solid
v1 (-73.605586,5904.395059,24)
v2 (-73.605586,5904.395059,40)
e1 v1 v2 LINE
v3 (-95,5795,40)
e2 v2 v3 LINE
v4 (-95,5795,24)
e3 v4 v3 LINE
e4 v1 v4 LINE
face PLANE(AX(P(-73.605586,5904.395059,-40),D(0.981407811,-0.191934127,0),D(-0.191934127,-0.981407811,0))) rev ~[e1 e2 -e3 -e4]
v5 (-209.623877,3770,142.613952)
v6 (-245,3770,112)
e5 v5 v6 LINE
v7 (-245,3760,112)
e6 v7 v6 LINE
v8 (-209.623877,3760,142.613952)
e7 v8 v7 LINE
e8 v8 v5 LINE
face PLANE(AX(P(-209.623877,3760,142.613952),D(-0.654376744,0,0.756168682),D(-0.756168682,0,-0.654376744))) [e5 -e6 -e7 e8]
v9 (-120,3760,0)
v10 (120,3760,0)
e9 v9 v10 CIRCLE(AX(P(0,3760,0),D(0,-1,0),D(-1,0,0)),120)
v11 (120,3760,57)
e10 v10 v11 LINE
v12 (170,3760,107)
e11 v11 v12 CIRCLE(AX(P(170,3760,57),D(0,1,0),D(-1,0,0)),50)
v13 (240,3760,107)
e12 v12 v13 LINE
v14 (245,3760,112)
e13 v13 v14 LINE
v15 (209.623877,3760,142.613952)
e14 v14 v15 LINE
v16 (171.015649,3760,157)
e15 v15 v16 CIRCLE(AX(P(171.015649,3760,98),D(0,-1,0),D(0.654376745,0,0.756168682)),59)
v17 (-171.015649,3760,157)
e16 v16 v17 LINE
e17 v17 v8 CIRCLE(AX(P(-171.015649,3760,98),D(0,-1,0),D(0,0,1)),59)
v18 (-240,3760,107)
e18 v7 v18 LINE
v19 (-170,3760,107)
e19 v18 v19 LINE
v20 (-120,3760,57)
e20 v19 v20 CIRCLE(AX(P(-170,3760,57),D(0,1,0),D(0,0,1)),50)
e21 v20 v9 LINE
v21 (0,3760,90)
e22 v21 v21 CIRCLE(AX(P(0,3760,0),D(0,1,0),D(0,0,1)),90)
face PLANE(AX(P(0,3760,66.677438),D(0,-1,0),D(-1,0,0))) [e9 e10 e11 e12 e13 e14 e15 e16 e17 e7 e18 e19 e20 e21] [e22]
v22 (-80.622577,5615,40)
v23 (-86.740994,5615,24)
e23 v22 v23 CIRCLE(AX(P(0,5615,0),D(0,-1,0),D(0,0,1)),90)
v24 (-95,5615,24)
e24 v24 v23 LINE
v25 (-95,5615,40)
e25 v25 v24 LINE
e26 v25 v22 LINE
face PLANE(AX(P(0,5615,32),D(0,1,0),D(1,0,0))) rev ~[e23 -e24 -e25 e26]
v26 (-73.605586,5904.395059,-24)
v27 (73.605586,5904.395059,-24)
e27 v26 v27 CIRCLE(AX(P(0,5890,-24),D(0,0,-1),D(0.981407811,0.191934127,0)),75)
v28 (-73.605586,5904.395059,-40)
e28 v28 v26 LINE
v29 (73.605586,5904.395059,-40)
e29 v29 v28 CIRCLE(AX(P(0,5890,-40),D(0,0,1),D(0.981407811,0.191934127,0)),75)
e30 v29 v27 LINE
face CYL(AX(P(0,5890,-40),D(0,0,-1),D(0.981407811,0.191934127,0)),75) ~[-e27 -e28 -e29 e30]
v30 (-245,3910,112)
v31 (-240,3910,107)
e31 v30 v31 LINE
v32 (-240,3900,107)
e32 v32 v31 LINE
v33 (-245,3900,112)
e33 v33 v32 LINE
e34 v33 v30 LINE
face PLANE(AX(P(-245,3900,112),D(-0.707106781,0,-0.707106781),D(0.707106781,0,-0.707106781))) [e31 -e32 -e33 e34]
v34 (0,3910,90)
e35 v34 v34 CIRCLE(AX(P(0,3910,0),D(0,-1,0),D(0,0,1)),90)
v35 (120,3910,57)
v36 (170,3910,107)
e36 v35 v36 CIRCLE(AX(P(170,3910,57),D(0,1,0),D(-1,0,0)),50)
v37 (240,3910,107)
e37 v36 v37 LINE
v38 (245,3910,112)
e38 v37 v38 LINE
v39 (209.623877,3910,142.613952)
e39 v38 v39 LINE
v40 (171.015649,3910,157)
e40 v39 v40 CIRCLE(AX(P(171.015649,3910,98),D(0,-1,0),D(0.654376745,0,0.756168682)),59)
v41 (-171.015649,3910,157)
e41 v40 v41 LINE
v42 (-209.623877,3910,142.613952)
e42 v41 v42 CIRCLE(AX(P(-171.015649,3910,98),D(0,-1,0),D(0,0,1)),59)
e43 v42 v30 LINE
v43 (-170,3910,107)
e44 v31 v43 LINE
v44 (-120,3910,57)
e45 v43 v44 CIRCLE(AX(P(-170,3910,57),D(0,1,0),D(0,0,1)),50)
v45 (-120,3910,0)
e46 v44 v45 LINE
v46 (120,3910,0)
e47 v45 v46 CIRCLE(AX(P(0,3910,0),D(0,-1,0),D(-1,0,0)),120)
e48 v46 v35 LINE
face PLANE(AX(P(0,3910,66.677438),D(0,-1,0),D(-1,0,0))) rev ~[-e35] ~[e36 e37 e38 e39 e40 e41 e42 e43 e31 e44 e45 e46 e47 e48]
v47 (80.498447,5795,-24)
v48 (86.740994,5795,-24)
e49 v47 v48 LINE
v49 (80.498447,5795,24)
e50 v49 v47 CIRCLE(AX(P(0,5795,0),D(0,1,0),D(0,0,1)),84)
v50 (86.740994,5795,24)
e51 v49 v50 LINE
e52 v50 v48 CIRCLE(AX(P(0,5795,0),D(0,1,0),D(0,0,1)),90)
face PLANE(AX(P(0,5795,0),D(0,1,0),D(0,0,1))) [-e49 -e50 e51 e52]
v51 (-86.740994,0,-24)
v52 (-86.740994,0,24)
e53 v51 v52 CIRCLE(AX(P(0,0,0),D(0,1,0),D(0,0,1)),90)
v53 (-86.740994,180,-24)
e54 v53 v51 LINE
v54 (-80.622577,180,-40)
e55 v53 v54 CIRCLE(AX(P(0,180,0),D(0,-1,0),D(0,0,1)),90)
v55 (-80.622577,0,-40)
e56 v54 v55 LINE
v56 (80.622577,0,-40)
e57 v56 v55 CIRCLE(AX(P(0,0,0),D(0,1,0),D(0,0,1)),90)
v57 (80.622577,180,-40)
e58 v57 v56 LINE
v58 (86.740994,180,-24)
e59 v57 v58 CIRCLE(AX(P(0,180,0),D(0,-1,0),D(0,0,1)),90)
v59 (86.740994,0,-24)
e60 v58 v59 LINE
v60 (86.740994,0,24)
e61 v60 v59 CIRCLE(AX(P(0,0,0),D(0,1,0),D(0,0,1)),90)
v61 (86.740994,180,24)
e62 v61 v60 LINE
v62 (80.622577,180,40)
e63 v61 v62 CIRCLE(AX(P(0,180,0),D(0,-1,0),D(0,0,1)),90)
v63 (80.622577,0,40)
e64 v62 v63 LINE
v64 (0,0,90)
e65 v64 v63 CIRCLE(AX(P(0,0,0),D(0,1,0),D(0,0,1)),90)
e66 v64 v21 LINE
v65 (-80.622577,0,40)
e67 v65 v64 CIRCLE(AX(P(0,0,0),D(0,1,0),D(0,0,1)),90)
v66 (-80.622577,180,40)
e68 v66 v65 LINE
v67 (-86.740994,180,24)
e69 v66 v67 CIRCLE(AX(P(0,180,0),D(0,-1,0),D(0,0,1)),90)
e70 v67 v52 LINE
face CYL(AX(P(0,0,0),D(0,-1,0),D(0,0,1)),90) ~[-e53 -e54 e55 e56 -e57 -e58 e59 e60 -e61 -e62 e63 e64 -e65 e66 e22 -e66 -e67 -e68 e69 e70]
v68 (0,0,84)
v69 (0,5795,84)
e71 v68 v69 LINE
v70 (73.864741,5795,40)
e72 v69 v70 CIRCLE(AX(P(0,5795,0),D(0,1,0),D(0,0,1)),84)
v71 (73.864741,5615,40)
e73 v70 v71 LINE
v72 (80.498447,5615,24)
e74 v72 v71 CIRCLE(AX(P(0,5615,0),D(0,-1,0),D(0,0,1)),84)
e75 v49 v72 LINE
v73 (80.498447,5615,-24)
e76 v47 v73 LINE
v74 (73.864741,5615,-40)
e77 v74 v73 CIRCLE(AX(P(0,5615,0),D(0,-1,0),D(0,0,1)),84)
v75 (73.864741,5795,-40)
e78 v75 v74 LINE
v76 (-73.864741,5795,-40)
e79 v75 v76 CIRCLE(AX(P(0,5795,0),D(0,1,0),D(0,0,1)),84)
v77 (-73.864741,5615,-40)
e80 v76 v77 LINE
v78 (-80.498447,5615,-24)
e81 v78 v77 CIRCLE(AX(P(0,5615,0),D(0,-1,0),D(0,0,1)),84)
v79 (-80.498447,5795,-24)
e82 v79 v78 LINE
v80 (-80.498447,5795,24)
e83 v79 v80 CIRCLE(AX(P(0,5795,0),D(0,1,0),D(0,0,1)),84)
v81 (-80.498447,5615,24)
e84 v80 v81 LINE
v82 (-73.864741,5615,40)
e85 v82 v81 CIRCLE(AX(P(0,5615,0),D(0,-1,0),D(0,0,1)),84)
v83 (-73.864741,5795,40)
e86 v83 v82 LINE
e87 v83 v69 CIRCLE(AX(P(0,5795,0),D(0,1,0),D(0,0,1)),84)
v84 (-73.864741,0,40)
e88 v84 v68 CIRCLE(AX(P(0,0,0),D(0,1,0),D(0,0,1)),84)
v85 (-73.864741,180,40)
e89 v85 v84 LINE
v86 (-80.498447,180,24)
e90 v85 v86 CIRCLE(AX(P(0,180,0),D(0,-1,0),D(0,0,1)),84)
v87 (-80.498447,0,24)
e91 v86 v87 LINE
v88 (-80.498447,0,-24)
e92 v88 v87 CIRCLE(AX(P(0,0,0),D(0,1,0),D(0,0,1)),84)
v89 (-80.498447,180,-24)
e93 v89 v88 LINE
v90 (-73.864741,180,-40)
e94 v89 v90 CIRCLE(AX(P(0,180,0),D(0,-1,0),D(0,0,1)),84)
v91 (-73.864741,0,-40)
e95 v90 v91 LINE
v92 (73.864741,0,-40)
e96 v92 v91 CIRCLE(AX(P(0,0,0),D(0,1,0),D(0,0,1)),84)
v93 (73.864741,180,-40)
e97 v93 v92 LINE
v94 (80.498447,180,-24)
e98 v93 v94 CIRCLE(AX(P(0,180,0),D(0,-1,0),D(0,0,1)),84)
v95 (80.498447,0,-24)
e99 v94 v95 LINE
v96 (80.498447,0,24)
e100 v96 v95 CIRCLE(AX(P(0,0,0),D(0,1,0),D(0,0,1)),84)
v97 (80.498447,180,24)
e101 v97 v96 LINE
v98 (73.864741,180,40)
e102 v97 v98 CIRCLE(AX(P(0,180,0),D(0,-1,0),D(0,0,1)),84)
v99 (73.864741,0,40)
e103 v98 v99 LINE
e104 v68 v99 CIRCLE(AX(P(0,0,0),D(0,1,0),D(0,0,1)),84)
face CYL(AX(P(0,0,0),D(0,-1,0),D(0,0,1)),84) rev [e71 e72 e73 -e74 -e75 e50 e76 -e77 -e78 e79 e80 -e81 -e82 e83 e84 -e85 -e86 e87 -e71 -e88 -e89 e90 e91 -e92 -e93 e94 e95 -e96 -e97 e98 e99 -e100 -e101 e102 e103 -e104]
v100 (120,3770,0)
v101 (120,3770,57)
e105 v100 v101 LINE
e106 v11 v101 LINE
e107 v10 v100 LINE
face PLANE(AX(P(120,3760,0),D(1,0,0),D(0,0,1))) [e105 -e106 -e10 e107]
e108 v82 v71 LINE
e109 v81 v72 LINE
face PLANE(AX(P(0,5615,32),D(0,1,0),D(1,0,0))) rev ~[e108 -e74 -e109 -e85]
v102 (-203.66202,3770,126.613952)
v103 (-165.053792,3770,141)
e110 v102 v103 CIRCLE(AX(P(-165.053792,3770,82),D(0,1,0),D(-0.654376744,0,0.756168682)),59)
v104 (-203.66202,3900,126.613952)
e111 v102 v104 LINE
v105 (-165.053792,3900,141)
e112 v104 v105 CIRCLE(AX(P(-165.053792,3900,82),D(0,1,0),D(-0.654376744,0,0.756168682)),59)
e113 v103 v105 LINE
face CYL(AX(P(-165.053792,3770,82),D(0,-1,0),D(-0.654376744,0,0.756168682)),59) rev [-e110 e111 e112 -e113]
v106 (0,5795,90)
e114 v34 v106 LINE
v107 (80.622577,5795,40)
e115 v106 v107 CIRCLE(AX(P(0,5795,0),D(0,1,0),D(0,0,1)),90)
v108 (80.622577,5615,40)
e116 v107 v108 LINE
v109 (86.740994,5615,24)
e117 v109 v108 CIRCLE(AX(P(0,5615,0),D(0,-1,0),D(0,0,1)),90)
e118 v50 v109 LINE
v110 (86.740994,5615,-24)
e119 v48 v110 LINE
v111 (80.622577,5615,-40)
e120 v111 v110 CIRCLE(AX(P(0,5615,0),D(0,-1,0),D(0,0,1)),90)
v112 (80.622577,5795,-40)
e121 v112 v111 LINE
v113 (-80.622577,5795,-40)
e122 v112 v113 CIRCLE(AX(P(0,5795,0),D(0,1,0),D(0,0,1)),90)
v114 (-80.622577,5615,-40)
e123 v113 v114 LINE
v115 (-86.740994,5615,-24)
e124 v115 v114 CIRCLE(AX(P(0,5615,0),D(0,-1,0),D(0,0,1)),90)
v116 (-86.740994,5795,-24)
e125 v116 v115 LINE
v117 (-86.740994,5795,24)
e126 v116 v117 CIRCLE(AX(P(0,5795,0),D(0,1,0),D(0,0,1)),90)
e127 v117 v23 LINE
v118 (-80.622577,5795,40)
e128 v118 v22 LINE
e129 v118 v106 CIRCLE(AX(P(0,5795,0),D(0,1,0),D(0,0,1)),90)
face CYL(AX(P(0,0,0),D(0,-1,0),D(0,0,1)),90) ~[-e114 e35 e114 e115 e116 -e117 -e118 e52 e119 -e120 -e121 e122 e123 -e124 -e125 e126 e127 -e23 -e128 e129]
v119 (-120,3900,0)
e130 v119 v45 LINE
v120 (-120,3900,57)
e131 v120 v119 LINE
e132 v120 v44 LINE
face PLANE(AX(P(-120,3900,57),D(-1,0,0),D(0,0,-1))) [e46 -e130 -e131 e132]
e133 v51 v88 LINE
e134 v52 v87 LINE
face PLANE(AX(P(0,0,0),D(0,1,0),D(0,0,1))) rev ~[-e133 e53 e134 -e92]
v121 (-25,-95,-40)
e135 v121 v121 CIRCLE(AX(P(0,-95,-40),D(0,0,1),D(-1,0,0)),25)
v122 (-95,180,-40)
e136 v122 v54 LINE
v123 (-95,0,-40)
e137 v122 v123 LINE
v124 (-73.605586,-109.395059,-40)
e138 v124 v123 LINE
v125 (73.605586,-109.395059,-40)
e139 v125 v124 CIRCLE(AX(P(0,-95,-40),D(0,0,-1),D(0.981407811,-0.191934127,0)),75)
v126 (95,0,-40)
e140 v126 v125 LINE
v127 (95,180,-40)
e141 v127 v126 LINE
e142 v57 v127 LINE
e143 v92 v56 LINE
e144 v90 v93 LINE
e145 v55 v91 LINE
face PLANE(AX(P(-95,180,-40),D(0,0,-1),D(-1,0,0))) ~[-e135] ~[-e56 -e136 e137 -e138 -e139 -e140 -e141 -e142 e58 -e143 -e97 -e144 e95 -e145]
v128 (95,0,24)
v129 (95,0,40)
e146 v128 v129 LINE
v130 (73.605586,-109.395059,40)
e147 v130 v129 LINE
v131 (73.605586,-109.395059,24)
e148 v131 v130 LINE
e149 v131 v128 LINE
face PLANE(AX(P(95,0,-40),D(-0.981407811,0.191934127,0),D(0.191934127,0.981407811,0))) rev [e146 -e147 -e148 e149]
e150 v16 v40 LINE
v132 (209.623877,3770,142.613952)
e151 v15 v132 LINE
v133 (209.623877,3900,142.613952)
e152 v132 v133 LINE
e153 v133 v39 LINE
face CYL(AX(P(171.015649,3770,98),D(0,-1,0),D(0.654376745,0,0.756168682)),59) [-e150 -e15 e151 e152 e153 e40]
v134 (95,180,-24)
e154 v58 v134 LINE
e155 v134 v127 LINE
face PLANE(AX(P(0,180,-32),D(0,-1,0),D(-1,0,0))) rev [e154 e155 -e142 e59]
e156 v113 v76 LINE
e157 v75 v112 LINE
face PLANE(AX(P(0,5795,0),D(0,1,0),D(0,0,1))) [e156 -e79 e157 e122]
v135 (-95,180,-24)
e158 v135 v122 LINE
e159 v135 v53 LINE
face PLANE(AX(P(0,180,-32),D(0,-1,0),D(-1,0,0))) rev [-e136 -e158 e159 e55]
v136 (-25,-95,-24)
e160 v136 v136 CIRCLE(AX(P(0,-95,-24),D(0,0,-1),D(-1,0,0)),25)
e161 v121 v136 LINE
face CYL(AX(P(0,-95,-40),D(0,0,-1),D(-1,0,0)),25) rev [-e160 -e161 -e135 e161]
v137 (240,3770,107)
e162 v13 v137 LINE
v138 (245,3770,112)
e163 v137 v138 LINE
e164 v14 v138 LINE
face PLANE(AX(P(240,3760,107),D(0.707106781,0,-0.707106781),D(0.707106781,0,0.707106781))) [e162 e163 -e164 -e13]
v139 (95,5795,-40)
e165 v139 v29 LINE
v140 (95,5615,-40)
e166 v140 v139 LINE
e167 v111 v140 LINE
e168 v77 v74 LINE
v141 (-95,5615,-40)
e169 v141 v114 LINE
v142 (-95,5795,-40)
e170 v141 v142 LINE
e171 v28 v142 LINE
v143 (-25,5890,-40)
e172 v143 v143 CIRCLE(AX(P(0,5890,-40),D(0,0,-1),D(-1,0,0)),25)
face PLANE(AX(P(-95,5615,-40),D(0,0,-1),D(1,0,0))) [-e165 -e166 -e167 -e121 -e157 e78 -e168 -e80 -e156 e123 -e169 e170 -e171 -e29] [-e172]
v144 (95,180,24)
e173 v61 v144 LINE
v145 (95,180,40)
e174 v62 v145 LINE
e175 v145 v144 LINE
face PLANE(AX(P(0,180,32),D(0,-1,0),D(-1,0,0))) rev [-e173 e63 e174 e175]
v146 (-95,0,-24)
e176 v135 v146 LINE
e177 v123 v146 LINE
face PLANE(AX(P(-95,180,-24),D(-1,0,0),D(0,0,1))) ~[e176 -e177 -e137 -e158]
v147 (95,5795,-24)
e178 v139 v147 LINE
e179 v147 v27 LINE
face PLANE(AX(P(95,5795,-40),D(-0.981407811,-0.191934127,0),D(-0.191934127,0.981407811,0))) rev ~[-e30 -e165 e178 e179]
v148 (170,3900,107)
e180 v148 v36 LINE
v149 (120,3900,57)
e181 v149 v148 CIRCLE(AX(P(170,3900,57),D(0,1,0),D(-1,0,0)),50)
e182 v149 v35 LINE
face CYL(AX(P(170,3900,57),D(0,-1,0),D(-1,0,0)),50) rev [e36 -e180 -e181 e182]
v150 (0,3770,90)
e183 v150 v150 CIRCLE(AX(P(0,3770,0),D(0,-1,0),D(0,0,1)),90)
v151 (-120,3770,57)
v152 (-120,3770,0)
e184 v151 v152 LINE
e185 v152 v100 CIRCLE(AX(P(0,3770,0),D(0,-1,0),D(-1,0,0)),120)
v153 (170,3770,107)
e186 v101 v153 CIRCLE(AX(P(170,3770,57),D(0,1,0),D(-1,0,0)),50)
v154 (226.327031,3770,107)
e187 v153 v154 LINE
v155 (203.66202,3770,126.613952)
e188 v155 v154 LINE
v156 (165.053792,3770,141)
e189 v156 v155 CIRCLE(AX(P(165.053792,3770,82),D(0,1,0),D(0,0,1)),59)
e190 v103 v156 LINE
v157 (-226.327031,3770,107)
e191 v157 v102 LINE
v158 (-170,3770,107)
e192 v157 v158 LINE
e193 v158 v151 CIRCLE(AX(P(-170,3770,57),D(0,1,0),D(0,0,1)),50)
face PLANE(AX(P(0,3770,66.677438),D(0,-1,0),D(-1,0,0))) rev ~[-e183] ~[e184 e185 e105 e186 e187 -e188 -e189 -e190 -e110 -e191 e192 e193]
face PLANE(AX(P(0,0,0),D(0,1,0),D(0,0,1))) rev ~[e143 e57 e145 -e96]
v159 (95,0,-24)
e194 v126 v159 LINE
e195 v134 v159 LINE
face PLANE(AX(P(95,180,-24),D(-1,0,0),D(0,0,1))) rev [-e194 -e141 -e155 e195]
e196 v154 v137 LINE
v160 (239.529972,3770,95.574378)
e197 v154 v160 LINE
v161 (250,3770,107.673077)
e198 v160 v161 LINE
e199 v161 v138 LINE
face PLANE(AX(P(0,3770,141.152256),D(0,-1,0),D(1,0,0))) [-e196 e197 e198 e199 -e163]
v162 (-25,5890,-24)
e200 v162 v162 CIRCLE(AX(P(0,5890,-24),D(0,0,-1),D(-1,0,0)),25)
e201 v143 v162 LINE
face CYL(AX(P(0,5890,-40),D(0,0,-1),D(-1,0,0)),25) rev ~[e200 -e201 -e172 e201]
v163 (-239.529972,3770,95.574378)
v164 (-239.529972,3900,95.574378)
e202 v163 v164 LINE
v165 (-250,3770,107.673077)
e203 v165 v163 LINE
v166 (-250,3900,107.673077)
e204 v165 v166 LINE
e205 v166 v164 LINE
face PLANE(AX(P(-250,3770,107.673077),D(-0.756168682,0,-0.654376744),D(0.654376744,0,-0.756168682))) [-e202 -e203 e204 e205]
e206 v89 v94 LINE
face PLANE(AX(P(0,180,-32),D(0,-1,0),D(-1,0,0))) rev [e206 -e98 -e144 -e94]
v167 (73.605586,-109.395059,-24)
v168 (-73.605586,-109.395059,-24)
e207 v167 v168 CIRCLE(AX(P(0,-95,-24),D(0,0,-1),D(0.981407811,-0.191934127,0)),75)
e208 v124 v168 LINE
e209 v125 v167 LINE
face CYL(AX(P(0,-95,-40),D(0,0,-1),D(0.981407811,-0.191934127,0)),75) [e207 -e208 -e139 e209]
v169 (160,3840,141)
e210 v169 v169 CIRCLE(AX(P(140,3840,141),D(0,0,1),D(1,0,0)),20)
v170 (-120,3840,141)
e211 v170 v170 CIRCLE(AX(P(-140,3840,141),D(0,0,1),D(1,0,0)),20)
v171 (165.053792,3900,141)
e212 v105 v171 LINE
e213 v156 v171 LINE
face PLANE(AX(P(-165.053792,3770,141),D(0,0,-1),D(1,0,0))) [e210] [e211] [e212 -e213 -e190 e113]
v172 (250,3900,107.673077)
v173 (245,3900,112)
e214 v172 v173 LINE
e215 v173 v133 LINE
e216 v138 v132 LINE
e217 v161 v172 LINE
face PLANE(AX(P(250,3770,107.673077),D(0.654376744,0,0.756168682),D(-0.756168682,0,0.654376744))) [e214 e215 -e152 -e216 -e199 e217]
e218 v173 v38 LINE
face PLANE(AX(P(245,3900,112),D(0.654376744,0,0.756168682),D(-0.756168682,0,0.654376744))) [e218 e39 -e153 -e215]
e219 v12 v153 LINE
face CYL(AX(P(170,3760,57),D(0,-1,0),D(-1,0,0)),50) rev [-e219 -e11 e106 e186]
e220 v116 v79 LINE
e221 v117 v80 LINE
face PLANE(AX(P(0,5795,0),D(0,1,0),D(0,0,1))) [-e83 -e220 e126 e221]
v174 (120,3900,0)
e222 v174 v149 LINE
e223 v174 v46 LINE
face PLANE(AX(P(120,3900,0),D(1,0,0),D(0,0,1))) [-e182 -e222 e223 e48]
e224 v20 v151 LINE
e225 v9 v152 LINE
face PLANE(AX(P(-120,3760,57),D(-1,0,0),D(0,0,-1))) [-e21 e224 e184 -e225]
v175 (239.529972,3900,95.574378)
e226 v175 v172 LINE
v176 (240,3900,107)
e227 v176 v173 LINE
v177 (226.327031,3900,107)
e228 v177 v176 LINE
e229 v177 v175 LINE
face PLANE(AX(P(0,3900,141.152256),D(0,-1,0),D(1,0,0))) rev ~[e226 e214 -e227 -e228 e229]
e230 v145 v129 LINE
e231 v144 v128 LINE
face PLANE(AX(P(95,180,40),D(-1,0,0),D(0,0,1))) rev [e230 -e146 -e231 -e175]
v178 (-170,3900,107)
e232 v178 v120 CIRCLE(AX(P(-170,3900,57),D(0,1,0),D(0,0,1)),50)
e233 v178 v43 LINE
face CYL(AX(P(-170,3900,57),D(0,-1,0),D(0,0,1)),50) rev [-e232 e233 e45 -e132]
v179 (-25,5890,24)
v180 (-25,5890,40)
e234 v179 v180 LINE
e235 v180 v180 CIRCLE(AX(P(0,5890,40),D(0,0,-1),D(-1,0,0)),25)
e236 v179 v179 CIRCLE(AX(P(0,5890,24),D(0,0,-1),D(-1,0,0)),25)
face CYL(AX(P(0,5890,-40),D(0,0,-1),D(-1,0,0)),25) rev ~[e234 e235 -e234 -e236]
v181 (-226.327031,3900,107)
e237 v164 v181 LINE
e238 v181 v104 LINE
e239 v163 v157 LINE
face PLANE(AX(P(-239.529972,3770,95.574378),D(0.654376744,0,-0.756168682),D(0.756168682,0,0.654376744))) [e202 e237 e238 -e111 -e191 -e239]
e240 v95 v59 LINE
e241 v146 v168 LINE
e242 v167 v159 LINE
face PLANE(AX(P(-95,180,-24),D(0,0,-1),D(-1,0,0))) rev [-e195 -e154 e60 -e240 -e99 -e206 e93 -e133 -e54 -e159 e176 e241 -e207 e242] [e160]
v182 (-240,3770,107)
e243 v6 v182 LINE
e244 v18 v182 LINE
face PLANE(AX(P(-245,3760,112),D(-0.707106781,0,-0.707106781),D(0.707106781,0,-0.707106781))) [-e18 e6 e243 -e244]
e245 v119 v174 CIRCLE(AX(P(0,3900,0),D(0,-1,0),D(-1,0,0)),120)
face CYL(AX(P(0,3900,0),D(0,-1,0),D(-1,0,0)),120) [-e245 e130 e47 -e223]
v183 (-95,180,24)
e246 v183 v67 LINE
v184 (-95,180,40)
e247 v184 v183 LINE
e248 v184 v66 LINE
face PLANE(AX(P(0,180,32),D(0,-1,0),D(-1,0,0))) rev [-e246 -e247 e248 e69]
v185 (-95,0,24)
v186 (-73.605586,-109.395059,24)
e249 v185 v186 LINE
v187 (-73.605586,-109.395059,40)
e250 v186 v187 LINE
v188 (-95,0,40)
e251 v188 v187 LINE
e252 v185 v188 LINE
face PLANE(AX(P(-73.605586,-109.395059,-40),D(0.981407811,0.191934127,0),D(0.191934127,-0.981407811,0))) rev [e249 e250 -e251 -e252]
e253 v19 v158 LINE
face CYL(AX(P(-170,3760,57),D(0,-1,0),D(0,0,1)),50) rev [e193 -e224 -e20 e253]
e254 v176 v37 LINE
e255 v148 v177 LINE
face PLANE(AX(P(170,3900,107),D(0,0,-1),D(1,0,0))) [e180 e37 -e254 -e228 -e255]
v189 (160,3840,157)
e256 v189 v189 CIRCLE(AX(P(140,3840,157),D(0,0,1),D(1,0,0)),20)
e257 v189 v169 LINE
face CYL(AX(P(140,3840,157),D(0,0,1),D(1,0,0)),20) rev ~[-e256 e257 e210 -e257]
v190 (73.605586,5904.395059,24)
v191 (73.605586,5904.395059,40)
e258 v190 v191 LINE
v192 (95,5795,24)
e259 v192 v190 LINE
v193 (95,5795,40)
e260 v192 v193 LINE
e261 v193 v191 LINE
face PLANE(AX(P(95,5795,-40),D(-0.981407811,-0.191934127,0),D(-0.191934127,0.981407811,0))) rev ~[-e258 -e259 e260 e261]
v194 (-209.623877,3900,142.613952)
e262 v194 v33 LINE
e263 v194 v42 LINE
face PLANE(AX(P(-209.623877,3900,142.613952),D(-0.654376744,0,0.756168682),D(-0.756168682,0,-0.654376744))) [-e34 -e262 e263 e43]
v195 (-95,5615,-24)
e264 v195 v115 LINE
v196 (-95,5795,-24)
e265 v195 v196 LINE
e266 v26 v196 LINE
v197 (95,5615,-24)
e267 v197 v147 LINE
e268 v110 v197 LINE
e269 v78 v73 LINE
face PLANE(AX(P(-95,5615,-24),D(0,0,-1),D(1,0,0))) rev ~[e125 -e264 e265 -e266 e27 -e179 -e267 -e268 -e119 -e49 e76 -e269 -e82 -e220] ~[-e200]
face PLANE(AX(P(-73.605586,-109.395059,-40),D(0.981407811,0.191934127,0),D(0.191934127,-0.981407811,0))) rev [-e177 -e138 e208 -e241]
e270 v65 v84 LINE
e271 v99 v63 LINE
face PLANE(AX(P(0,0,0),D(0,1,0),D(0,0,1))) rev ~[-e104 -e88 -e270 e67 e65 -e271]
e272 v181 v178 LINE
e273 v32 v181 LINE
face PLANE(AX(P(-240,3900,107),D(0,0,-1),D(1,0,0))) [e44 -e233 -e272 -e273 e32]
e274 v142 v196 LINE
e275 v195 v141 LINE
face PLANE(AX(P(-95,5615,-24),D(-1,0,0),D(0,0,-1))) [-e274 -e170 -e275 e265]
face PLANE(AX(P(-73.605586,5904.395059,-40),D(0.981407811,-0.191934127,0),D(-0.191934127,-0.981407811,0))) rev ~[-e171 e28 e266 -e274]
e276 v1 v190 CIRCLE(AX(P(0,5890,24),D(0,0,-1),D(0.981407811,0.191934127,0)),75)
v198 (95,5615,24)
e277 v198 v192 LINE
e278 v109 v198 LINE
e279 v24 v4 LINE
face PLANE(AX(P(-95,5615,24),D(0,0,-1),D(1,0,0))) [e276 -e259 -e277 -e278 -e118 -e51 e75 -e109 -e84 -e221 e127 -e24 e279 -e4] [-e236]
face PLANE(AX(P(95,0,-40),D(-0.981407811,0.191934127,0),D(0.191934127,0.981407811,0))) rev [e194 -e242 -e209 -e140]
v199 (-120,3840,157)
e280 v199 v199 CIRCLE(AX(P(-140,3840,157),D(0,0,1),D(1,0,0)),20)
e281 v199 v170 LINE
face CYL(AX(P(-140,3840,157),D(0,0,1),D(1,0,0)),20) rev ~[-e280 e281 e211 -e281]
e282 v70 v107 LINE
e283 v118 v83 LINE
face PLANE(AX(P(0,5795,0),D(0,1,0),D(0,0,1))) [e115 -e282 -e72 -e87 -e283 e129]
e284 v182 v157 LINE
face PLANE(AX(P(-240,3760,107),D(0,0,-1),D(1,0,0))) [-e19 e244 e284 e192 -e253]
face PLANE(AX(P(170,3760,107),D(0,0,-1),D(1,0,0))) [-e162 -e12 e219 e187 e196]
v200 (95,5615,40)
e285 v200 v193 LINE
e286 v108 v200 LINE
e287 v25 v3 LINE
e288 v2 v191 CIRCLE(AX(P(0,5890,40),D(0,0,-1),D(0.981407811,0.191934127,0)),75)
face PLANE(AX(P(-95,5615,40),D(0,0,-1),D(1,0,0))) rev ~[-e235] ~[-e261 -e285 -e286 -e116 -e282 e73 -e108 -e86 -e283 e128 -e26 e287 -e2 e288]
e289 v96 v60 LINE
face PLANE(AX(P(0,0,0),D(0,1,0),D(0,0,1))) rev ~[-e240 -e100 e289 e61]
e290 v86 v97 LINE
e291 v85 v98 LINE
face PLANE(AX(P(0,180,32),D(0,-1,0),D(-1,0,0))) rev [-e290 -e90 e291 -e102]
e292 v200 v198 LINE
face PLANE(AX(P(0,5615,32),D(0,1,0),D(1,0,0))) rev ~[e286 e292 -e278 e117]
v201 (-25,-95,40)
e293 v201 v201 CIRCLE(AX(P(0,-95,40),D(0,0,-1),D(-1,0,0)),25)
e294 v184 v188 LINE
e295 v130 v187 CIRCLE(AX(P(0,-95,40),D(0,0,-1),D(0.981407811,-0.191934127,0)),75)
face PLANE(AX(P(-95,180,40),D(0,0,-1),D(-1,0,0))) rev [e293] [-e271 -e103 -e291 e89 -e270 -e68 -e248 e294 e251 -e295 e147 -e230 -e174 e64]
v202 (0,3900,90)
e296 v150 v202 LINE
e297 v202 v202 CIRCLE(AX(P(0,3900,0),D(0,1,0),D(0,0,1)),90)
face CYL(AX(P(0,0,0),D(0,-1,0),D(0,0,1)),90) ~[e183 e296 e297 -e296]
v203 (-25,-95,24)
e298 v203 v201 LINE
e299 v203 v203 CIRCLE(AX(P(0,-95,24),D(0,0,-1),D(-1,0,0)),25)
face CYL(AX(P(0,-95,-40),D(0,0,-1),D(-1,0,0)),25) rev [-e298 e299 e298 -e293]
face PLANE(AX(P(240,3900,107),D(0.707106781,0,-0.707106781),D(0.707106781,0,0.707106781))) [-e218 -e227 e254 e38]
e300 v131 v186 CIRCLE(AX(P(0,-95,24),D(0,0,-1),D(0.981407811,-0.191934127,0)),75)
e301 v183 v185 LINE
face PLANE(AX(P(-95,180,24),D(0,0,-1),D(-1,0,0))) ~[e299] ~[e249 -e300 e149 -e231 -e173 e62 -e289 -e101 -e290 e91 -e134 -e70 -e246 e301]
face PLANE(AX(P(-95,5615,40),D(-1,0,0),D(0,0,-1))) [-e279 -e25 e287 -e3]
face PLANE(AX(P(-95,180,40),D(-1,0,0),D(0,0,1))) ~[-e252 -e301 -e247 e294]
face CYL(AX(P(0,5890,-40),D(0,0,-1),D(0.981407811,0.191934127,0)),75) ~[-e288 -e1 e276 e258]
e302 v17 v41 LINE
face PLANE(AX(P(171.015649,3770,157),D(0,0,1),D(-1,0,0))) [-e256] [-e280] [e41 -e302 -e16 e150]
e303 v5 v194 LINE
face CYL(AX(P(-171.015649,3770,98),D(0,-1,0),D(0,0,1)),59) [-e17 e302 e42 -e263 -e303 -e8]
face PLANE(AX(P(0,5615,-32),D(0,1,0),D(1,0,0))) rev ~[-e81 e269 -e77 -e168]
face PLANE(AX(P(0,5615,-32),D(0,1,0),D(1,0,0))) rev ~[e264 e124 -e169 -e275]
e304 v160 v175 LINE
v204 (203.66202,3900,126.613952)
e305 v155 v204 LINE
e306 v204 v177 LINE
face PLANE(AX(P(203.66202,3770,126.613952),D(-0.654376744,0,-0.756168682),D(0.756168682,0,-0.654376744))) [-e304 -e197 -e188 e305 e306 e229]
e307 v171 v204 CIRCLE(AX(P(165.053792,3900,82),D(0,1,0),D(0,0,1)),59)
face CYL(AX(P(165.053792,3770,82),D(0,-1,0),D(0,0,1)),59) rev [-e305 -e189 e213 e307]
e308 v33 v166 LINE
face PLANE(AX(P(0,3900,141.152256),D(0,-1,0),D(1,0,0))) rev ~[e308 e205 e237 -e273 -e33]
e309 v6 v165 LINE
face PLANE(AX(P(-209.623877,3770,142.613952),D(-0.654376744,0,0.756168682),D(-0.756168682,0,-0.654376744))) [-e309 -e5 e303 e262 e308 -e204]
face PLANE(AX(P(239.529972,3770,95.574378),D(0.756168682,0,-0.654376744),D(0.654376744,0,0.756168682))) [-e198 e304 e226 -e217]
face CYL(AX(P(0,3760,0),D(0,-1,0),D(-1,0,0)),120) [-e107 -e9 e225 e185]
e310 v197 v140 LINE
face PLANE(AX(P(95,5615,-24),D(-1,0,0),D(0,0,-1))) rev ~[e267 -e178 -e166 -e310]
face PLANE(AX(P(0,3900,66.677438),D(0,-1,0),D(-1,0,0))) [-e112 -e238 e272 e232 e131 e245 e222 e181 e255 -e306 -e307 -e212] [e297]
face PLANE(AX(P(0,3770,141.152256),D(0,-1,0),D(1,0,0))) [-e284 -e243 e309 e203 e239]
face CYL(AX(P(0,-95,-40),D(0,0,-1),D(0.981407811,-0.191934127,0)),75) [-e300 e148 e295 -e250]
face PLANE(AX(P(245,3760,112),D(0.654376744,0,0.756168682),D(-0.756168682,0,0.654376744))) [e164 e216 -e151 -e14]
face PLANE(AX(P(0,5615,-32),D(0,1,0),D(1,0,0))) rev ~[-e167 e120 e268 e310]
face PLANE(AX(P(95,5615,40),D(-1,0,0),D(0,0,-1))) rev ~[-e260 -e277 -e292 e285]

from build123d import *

# Parameters (mm, degrees)
SKETCH_1_R             = 90
SKETCH_1_R_2           = 84
EXTRUDE_1_DEPTH        = 5795
SKETCH_2_W             = 180
SKETCH_2_H             = 16
CUT_EXTRUDE_1_DEPTH    = 180
SKETCH_3_W             = 190
SKETCH_3_H             = 16
EXTRUDE_2_DEPTH        = 400
SKETCH_4_R             = 25
CUT_EXTRUDE_2_DEPTH    = 6018.154643185
SKETCH_5_R             = 90
EXTRUDE_3_DEPTH        = 10
PATTERN_LINEAR_1_COUNT = 2
PATTERN_LINEAR_1_PITCH = 140
EXTRUDE_START          = 130
EXTRUDE_4_DEPTH        = 130
SKETCH_7_R             = 20
CUT_EXTRUDE_3_DEPTH    = 16


with BuildPart() as part:
    # 草图1 → 凸台-拉伸1 (new body)
    with BuildSketch(Plane(origin=(0, 0, 0), x_dir=(1, 0, 0), z_dir=(0, 1, 0))):
        with Locations(Location((0, 0, 0), (0, 0, 270))):
            Circle(SKETCH_1_R)
        with Locations(Location((0, 0, 0), (0, 0, 270))):
            Circle(SKETCH_1_R_2, mode=Mode.SUBTRACT)
    extrude(amount=EXTRUDE_1_DEPTH)

    # 草图2 → 切除-拉伸1 (cut)
    with BuildSketch(Plane(origin=(0, 5795, 0), x_dir=(1, 0, 0), z_dir=(0, 1, 0))):
        with Locations((0, 32)):
            Rectangle(SKETCH_2_W, SKETCH_2_H)
        with Locations((0, -32)):
            Rectangle(SKETCH_2_W, SKETCH_2_H)
    cut_extrude_1 = extrude(amount=-CUT_EXTRUDE_1_DEPTH, mode=Mode.SUBTRACT)

    # 草图3 → 凸台-拉伸2 (add)
    with BuildSketch(Plane(origin=(0, 5615, 0), x_dir=(1, 0, 0), z_dir=(0, 1, 0))):
        with Locations((0, 32)):
            Rectangle(SKETCH_3_W, SKETCH_3_H)
        with Locations((0, -32)):
            Rectangle(SKETCH_3_W, SKETCH_3_H)
    extrude_2 = extrude(amount=EXTRUDE_2_DEPTH)

    # 草图4 → 切除-拉伸2 (cut, through all)
    with BuildSketch(Plane(origin=(0, 0, -40), x_dir=(-1, 0, 0), z_dir=(0, 0, -1))):
        with Locations((0, 5890)):
            Circle(SKETCH_4_R)
        with BuildLine():
            Line((95, 5795), (95, 6015))
            Line((95, 6015), (-95, 6015))
            Line((-95, 6015), (-95, 5795))
            Line((-95, 5795), (-73.605585808, 5904.395059493))
            ThreePointArc((-73.605585808, 5904.395059493), (0, 5965), (73.605585808, 5904.395059493))
            Line((73.605585808, 5904.395059493), (95, 5795))
        make_face()
    cut_extrude_2 = extrude(amount=-CUT_EXTRUDE_2_DEPTH, mode=Mode.SUBTRACT)

    # 镜向1: 切除-拉伸1, 凸台-拉伸2, 切除-拉伸2 across plane
    add(cut_extrude_1.mirror(Plane.ZX.offset(2897.5)), mode=Mode.SUBTRACT)
    add(extrude_2.mirror(Plane.ZX.offset(2897.5)))
    add(cut_extrude_2.mirror(Plane.ZX.offset(2897.5)), mode=Mode.SUBTRACT)

    # 草图5 → 凸台-拉伸3 (add)
    with BuildSketch(Plane(origin=(0, 3760, 0), x_dir=(1, 0, 0), z_dir=(0, 1, 0))):
        with BuildLine():
            Line((170, -107), (240, -107))
            Line((240, -107), (245, -112))
            Line((245, -112), (209.623877382, -142.613952265))
            ThreePointArc((209.623877382, -142.613952265), (191.616338968, -153.286631222), (171.01564946, -157))
            Line((171.01564946, -157), (-171.01564946, -157))
            ThreePointArc((-171.01564946, -157), (-191.616338968, -153.286631222), (-209.623877382, -142.613952265))
            Line((-209.623877382, -142.613952265), (-245, -112))
            Line((-245, -112), (-240, -107))
            Line((-240, -107), (-170, -107))
            ThreePointArc((-170, -107), (-134.644660941, -92.355339059), (-120, -57))
            Line((-120, -57), (-120, 0))
            ThreePointArc((-120, 0), (0, 120), (120, 0))
            Line((120, 0), (120, -57))
            ThreePointArc((120, -57), (134.644660941, -92.355339059), (170, -107))
        make_face()
        with Locations(Location((0, 0, 0), (0, 0, 90))):
            Circle(SKETCH_5_R, mode=Mode.SUBTRACT)
    extrude_3 = extrude(amount=EXTRUDE_3_DEPTH)

    # 阵列(线性)1: 凸台-拉伸3 ×2
    with Locations(*[(0, i * PATTERN_LINEAR_1_PITCH, 0) for i in range(1, PATTERN_LINEAR_1_COUNT)]):
        add(extrude_3)

    # 草图6 → 凸台-拉伸4 (add)
    with BuildSketch(Plane.XZ.offset(-3900).offset(EXTRUDE_START)):
        with BuildLine():
            Line((-250, 107.673076923), (-239.529972089, 95.574378004))
            Line((-239.529972089, 95.574378004), (-203.662019609, 126.613952265))
            ThreePointArc((-203.662019609, 126.613952265), (-185.654481194, 137.286631222), (-165.053791687, 141))
            Line((-165.053791687, 141), (165.053791687, 141))
            ThreePointArc((165.053791687, 141), (185.654481194, 137.286631222), (203.662019609, 126.613952265))
            Line((203.662019609, 126.613952265), (239.529972089, 95.574378004))
            Line((239.529972089, 95.574378004), (250, 107.673076923))
            Line((250, 107.673076923), (209.623877382, 142.613952265))
            ThreePointArc((209.623877382, 142.613952265), (191.616338968, 153.286631222), (171.01564946, 157))
            Line((171.01564946, 157), (-171.01564946, 157))
            ThreePointArc((-171.01564946, 157), (-191.616338968, 153.286631222), (-209.623877382, 142.613952265))
            Line((-209.623877382, 142.613952265), (-250, 107.673076923))
        make_face()
    extrude(amount=-EXTRUDE_4_DEPTH)

    # 草图7 → 切除-拉伸3 (cut)
    with BuildSketch(Plane.XY.offset(157)):
        with Locations((-140, 3840)):
            Circle(SKETCH_7_R)
        with Locations((140, 3840)):
            Circle(SKETCH_7_R)
    extrude(amount=-CUT_EXTRUDE_3_DEPTH, mode=Mode.SUBTRACT)


solid = part.part
